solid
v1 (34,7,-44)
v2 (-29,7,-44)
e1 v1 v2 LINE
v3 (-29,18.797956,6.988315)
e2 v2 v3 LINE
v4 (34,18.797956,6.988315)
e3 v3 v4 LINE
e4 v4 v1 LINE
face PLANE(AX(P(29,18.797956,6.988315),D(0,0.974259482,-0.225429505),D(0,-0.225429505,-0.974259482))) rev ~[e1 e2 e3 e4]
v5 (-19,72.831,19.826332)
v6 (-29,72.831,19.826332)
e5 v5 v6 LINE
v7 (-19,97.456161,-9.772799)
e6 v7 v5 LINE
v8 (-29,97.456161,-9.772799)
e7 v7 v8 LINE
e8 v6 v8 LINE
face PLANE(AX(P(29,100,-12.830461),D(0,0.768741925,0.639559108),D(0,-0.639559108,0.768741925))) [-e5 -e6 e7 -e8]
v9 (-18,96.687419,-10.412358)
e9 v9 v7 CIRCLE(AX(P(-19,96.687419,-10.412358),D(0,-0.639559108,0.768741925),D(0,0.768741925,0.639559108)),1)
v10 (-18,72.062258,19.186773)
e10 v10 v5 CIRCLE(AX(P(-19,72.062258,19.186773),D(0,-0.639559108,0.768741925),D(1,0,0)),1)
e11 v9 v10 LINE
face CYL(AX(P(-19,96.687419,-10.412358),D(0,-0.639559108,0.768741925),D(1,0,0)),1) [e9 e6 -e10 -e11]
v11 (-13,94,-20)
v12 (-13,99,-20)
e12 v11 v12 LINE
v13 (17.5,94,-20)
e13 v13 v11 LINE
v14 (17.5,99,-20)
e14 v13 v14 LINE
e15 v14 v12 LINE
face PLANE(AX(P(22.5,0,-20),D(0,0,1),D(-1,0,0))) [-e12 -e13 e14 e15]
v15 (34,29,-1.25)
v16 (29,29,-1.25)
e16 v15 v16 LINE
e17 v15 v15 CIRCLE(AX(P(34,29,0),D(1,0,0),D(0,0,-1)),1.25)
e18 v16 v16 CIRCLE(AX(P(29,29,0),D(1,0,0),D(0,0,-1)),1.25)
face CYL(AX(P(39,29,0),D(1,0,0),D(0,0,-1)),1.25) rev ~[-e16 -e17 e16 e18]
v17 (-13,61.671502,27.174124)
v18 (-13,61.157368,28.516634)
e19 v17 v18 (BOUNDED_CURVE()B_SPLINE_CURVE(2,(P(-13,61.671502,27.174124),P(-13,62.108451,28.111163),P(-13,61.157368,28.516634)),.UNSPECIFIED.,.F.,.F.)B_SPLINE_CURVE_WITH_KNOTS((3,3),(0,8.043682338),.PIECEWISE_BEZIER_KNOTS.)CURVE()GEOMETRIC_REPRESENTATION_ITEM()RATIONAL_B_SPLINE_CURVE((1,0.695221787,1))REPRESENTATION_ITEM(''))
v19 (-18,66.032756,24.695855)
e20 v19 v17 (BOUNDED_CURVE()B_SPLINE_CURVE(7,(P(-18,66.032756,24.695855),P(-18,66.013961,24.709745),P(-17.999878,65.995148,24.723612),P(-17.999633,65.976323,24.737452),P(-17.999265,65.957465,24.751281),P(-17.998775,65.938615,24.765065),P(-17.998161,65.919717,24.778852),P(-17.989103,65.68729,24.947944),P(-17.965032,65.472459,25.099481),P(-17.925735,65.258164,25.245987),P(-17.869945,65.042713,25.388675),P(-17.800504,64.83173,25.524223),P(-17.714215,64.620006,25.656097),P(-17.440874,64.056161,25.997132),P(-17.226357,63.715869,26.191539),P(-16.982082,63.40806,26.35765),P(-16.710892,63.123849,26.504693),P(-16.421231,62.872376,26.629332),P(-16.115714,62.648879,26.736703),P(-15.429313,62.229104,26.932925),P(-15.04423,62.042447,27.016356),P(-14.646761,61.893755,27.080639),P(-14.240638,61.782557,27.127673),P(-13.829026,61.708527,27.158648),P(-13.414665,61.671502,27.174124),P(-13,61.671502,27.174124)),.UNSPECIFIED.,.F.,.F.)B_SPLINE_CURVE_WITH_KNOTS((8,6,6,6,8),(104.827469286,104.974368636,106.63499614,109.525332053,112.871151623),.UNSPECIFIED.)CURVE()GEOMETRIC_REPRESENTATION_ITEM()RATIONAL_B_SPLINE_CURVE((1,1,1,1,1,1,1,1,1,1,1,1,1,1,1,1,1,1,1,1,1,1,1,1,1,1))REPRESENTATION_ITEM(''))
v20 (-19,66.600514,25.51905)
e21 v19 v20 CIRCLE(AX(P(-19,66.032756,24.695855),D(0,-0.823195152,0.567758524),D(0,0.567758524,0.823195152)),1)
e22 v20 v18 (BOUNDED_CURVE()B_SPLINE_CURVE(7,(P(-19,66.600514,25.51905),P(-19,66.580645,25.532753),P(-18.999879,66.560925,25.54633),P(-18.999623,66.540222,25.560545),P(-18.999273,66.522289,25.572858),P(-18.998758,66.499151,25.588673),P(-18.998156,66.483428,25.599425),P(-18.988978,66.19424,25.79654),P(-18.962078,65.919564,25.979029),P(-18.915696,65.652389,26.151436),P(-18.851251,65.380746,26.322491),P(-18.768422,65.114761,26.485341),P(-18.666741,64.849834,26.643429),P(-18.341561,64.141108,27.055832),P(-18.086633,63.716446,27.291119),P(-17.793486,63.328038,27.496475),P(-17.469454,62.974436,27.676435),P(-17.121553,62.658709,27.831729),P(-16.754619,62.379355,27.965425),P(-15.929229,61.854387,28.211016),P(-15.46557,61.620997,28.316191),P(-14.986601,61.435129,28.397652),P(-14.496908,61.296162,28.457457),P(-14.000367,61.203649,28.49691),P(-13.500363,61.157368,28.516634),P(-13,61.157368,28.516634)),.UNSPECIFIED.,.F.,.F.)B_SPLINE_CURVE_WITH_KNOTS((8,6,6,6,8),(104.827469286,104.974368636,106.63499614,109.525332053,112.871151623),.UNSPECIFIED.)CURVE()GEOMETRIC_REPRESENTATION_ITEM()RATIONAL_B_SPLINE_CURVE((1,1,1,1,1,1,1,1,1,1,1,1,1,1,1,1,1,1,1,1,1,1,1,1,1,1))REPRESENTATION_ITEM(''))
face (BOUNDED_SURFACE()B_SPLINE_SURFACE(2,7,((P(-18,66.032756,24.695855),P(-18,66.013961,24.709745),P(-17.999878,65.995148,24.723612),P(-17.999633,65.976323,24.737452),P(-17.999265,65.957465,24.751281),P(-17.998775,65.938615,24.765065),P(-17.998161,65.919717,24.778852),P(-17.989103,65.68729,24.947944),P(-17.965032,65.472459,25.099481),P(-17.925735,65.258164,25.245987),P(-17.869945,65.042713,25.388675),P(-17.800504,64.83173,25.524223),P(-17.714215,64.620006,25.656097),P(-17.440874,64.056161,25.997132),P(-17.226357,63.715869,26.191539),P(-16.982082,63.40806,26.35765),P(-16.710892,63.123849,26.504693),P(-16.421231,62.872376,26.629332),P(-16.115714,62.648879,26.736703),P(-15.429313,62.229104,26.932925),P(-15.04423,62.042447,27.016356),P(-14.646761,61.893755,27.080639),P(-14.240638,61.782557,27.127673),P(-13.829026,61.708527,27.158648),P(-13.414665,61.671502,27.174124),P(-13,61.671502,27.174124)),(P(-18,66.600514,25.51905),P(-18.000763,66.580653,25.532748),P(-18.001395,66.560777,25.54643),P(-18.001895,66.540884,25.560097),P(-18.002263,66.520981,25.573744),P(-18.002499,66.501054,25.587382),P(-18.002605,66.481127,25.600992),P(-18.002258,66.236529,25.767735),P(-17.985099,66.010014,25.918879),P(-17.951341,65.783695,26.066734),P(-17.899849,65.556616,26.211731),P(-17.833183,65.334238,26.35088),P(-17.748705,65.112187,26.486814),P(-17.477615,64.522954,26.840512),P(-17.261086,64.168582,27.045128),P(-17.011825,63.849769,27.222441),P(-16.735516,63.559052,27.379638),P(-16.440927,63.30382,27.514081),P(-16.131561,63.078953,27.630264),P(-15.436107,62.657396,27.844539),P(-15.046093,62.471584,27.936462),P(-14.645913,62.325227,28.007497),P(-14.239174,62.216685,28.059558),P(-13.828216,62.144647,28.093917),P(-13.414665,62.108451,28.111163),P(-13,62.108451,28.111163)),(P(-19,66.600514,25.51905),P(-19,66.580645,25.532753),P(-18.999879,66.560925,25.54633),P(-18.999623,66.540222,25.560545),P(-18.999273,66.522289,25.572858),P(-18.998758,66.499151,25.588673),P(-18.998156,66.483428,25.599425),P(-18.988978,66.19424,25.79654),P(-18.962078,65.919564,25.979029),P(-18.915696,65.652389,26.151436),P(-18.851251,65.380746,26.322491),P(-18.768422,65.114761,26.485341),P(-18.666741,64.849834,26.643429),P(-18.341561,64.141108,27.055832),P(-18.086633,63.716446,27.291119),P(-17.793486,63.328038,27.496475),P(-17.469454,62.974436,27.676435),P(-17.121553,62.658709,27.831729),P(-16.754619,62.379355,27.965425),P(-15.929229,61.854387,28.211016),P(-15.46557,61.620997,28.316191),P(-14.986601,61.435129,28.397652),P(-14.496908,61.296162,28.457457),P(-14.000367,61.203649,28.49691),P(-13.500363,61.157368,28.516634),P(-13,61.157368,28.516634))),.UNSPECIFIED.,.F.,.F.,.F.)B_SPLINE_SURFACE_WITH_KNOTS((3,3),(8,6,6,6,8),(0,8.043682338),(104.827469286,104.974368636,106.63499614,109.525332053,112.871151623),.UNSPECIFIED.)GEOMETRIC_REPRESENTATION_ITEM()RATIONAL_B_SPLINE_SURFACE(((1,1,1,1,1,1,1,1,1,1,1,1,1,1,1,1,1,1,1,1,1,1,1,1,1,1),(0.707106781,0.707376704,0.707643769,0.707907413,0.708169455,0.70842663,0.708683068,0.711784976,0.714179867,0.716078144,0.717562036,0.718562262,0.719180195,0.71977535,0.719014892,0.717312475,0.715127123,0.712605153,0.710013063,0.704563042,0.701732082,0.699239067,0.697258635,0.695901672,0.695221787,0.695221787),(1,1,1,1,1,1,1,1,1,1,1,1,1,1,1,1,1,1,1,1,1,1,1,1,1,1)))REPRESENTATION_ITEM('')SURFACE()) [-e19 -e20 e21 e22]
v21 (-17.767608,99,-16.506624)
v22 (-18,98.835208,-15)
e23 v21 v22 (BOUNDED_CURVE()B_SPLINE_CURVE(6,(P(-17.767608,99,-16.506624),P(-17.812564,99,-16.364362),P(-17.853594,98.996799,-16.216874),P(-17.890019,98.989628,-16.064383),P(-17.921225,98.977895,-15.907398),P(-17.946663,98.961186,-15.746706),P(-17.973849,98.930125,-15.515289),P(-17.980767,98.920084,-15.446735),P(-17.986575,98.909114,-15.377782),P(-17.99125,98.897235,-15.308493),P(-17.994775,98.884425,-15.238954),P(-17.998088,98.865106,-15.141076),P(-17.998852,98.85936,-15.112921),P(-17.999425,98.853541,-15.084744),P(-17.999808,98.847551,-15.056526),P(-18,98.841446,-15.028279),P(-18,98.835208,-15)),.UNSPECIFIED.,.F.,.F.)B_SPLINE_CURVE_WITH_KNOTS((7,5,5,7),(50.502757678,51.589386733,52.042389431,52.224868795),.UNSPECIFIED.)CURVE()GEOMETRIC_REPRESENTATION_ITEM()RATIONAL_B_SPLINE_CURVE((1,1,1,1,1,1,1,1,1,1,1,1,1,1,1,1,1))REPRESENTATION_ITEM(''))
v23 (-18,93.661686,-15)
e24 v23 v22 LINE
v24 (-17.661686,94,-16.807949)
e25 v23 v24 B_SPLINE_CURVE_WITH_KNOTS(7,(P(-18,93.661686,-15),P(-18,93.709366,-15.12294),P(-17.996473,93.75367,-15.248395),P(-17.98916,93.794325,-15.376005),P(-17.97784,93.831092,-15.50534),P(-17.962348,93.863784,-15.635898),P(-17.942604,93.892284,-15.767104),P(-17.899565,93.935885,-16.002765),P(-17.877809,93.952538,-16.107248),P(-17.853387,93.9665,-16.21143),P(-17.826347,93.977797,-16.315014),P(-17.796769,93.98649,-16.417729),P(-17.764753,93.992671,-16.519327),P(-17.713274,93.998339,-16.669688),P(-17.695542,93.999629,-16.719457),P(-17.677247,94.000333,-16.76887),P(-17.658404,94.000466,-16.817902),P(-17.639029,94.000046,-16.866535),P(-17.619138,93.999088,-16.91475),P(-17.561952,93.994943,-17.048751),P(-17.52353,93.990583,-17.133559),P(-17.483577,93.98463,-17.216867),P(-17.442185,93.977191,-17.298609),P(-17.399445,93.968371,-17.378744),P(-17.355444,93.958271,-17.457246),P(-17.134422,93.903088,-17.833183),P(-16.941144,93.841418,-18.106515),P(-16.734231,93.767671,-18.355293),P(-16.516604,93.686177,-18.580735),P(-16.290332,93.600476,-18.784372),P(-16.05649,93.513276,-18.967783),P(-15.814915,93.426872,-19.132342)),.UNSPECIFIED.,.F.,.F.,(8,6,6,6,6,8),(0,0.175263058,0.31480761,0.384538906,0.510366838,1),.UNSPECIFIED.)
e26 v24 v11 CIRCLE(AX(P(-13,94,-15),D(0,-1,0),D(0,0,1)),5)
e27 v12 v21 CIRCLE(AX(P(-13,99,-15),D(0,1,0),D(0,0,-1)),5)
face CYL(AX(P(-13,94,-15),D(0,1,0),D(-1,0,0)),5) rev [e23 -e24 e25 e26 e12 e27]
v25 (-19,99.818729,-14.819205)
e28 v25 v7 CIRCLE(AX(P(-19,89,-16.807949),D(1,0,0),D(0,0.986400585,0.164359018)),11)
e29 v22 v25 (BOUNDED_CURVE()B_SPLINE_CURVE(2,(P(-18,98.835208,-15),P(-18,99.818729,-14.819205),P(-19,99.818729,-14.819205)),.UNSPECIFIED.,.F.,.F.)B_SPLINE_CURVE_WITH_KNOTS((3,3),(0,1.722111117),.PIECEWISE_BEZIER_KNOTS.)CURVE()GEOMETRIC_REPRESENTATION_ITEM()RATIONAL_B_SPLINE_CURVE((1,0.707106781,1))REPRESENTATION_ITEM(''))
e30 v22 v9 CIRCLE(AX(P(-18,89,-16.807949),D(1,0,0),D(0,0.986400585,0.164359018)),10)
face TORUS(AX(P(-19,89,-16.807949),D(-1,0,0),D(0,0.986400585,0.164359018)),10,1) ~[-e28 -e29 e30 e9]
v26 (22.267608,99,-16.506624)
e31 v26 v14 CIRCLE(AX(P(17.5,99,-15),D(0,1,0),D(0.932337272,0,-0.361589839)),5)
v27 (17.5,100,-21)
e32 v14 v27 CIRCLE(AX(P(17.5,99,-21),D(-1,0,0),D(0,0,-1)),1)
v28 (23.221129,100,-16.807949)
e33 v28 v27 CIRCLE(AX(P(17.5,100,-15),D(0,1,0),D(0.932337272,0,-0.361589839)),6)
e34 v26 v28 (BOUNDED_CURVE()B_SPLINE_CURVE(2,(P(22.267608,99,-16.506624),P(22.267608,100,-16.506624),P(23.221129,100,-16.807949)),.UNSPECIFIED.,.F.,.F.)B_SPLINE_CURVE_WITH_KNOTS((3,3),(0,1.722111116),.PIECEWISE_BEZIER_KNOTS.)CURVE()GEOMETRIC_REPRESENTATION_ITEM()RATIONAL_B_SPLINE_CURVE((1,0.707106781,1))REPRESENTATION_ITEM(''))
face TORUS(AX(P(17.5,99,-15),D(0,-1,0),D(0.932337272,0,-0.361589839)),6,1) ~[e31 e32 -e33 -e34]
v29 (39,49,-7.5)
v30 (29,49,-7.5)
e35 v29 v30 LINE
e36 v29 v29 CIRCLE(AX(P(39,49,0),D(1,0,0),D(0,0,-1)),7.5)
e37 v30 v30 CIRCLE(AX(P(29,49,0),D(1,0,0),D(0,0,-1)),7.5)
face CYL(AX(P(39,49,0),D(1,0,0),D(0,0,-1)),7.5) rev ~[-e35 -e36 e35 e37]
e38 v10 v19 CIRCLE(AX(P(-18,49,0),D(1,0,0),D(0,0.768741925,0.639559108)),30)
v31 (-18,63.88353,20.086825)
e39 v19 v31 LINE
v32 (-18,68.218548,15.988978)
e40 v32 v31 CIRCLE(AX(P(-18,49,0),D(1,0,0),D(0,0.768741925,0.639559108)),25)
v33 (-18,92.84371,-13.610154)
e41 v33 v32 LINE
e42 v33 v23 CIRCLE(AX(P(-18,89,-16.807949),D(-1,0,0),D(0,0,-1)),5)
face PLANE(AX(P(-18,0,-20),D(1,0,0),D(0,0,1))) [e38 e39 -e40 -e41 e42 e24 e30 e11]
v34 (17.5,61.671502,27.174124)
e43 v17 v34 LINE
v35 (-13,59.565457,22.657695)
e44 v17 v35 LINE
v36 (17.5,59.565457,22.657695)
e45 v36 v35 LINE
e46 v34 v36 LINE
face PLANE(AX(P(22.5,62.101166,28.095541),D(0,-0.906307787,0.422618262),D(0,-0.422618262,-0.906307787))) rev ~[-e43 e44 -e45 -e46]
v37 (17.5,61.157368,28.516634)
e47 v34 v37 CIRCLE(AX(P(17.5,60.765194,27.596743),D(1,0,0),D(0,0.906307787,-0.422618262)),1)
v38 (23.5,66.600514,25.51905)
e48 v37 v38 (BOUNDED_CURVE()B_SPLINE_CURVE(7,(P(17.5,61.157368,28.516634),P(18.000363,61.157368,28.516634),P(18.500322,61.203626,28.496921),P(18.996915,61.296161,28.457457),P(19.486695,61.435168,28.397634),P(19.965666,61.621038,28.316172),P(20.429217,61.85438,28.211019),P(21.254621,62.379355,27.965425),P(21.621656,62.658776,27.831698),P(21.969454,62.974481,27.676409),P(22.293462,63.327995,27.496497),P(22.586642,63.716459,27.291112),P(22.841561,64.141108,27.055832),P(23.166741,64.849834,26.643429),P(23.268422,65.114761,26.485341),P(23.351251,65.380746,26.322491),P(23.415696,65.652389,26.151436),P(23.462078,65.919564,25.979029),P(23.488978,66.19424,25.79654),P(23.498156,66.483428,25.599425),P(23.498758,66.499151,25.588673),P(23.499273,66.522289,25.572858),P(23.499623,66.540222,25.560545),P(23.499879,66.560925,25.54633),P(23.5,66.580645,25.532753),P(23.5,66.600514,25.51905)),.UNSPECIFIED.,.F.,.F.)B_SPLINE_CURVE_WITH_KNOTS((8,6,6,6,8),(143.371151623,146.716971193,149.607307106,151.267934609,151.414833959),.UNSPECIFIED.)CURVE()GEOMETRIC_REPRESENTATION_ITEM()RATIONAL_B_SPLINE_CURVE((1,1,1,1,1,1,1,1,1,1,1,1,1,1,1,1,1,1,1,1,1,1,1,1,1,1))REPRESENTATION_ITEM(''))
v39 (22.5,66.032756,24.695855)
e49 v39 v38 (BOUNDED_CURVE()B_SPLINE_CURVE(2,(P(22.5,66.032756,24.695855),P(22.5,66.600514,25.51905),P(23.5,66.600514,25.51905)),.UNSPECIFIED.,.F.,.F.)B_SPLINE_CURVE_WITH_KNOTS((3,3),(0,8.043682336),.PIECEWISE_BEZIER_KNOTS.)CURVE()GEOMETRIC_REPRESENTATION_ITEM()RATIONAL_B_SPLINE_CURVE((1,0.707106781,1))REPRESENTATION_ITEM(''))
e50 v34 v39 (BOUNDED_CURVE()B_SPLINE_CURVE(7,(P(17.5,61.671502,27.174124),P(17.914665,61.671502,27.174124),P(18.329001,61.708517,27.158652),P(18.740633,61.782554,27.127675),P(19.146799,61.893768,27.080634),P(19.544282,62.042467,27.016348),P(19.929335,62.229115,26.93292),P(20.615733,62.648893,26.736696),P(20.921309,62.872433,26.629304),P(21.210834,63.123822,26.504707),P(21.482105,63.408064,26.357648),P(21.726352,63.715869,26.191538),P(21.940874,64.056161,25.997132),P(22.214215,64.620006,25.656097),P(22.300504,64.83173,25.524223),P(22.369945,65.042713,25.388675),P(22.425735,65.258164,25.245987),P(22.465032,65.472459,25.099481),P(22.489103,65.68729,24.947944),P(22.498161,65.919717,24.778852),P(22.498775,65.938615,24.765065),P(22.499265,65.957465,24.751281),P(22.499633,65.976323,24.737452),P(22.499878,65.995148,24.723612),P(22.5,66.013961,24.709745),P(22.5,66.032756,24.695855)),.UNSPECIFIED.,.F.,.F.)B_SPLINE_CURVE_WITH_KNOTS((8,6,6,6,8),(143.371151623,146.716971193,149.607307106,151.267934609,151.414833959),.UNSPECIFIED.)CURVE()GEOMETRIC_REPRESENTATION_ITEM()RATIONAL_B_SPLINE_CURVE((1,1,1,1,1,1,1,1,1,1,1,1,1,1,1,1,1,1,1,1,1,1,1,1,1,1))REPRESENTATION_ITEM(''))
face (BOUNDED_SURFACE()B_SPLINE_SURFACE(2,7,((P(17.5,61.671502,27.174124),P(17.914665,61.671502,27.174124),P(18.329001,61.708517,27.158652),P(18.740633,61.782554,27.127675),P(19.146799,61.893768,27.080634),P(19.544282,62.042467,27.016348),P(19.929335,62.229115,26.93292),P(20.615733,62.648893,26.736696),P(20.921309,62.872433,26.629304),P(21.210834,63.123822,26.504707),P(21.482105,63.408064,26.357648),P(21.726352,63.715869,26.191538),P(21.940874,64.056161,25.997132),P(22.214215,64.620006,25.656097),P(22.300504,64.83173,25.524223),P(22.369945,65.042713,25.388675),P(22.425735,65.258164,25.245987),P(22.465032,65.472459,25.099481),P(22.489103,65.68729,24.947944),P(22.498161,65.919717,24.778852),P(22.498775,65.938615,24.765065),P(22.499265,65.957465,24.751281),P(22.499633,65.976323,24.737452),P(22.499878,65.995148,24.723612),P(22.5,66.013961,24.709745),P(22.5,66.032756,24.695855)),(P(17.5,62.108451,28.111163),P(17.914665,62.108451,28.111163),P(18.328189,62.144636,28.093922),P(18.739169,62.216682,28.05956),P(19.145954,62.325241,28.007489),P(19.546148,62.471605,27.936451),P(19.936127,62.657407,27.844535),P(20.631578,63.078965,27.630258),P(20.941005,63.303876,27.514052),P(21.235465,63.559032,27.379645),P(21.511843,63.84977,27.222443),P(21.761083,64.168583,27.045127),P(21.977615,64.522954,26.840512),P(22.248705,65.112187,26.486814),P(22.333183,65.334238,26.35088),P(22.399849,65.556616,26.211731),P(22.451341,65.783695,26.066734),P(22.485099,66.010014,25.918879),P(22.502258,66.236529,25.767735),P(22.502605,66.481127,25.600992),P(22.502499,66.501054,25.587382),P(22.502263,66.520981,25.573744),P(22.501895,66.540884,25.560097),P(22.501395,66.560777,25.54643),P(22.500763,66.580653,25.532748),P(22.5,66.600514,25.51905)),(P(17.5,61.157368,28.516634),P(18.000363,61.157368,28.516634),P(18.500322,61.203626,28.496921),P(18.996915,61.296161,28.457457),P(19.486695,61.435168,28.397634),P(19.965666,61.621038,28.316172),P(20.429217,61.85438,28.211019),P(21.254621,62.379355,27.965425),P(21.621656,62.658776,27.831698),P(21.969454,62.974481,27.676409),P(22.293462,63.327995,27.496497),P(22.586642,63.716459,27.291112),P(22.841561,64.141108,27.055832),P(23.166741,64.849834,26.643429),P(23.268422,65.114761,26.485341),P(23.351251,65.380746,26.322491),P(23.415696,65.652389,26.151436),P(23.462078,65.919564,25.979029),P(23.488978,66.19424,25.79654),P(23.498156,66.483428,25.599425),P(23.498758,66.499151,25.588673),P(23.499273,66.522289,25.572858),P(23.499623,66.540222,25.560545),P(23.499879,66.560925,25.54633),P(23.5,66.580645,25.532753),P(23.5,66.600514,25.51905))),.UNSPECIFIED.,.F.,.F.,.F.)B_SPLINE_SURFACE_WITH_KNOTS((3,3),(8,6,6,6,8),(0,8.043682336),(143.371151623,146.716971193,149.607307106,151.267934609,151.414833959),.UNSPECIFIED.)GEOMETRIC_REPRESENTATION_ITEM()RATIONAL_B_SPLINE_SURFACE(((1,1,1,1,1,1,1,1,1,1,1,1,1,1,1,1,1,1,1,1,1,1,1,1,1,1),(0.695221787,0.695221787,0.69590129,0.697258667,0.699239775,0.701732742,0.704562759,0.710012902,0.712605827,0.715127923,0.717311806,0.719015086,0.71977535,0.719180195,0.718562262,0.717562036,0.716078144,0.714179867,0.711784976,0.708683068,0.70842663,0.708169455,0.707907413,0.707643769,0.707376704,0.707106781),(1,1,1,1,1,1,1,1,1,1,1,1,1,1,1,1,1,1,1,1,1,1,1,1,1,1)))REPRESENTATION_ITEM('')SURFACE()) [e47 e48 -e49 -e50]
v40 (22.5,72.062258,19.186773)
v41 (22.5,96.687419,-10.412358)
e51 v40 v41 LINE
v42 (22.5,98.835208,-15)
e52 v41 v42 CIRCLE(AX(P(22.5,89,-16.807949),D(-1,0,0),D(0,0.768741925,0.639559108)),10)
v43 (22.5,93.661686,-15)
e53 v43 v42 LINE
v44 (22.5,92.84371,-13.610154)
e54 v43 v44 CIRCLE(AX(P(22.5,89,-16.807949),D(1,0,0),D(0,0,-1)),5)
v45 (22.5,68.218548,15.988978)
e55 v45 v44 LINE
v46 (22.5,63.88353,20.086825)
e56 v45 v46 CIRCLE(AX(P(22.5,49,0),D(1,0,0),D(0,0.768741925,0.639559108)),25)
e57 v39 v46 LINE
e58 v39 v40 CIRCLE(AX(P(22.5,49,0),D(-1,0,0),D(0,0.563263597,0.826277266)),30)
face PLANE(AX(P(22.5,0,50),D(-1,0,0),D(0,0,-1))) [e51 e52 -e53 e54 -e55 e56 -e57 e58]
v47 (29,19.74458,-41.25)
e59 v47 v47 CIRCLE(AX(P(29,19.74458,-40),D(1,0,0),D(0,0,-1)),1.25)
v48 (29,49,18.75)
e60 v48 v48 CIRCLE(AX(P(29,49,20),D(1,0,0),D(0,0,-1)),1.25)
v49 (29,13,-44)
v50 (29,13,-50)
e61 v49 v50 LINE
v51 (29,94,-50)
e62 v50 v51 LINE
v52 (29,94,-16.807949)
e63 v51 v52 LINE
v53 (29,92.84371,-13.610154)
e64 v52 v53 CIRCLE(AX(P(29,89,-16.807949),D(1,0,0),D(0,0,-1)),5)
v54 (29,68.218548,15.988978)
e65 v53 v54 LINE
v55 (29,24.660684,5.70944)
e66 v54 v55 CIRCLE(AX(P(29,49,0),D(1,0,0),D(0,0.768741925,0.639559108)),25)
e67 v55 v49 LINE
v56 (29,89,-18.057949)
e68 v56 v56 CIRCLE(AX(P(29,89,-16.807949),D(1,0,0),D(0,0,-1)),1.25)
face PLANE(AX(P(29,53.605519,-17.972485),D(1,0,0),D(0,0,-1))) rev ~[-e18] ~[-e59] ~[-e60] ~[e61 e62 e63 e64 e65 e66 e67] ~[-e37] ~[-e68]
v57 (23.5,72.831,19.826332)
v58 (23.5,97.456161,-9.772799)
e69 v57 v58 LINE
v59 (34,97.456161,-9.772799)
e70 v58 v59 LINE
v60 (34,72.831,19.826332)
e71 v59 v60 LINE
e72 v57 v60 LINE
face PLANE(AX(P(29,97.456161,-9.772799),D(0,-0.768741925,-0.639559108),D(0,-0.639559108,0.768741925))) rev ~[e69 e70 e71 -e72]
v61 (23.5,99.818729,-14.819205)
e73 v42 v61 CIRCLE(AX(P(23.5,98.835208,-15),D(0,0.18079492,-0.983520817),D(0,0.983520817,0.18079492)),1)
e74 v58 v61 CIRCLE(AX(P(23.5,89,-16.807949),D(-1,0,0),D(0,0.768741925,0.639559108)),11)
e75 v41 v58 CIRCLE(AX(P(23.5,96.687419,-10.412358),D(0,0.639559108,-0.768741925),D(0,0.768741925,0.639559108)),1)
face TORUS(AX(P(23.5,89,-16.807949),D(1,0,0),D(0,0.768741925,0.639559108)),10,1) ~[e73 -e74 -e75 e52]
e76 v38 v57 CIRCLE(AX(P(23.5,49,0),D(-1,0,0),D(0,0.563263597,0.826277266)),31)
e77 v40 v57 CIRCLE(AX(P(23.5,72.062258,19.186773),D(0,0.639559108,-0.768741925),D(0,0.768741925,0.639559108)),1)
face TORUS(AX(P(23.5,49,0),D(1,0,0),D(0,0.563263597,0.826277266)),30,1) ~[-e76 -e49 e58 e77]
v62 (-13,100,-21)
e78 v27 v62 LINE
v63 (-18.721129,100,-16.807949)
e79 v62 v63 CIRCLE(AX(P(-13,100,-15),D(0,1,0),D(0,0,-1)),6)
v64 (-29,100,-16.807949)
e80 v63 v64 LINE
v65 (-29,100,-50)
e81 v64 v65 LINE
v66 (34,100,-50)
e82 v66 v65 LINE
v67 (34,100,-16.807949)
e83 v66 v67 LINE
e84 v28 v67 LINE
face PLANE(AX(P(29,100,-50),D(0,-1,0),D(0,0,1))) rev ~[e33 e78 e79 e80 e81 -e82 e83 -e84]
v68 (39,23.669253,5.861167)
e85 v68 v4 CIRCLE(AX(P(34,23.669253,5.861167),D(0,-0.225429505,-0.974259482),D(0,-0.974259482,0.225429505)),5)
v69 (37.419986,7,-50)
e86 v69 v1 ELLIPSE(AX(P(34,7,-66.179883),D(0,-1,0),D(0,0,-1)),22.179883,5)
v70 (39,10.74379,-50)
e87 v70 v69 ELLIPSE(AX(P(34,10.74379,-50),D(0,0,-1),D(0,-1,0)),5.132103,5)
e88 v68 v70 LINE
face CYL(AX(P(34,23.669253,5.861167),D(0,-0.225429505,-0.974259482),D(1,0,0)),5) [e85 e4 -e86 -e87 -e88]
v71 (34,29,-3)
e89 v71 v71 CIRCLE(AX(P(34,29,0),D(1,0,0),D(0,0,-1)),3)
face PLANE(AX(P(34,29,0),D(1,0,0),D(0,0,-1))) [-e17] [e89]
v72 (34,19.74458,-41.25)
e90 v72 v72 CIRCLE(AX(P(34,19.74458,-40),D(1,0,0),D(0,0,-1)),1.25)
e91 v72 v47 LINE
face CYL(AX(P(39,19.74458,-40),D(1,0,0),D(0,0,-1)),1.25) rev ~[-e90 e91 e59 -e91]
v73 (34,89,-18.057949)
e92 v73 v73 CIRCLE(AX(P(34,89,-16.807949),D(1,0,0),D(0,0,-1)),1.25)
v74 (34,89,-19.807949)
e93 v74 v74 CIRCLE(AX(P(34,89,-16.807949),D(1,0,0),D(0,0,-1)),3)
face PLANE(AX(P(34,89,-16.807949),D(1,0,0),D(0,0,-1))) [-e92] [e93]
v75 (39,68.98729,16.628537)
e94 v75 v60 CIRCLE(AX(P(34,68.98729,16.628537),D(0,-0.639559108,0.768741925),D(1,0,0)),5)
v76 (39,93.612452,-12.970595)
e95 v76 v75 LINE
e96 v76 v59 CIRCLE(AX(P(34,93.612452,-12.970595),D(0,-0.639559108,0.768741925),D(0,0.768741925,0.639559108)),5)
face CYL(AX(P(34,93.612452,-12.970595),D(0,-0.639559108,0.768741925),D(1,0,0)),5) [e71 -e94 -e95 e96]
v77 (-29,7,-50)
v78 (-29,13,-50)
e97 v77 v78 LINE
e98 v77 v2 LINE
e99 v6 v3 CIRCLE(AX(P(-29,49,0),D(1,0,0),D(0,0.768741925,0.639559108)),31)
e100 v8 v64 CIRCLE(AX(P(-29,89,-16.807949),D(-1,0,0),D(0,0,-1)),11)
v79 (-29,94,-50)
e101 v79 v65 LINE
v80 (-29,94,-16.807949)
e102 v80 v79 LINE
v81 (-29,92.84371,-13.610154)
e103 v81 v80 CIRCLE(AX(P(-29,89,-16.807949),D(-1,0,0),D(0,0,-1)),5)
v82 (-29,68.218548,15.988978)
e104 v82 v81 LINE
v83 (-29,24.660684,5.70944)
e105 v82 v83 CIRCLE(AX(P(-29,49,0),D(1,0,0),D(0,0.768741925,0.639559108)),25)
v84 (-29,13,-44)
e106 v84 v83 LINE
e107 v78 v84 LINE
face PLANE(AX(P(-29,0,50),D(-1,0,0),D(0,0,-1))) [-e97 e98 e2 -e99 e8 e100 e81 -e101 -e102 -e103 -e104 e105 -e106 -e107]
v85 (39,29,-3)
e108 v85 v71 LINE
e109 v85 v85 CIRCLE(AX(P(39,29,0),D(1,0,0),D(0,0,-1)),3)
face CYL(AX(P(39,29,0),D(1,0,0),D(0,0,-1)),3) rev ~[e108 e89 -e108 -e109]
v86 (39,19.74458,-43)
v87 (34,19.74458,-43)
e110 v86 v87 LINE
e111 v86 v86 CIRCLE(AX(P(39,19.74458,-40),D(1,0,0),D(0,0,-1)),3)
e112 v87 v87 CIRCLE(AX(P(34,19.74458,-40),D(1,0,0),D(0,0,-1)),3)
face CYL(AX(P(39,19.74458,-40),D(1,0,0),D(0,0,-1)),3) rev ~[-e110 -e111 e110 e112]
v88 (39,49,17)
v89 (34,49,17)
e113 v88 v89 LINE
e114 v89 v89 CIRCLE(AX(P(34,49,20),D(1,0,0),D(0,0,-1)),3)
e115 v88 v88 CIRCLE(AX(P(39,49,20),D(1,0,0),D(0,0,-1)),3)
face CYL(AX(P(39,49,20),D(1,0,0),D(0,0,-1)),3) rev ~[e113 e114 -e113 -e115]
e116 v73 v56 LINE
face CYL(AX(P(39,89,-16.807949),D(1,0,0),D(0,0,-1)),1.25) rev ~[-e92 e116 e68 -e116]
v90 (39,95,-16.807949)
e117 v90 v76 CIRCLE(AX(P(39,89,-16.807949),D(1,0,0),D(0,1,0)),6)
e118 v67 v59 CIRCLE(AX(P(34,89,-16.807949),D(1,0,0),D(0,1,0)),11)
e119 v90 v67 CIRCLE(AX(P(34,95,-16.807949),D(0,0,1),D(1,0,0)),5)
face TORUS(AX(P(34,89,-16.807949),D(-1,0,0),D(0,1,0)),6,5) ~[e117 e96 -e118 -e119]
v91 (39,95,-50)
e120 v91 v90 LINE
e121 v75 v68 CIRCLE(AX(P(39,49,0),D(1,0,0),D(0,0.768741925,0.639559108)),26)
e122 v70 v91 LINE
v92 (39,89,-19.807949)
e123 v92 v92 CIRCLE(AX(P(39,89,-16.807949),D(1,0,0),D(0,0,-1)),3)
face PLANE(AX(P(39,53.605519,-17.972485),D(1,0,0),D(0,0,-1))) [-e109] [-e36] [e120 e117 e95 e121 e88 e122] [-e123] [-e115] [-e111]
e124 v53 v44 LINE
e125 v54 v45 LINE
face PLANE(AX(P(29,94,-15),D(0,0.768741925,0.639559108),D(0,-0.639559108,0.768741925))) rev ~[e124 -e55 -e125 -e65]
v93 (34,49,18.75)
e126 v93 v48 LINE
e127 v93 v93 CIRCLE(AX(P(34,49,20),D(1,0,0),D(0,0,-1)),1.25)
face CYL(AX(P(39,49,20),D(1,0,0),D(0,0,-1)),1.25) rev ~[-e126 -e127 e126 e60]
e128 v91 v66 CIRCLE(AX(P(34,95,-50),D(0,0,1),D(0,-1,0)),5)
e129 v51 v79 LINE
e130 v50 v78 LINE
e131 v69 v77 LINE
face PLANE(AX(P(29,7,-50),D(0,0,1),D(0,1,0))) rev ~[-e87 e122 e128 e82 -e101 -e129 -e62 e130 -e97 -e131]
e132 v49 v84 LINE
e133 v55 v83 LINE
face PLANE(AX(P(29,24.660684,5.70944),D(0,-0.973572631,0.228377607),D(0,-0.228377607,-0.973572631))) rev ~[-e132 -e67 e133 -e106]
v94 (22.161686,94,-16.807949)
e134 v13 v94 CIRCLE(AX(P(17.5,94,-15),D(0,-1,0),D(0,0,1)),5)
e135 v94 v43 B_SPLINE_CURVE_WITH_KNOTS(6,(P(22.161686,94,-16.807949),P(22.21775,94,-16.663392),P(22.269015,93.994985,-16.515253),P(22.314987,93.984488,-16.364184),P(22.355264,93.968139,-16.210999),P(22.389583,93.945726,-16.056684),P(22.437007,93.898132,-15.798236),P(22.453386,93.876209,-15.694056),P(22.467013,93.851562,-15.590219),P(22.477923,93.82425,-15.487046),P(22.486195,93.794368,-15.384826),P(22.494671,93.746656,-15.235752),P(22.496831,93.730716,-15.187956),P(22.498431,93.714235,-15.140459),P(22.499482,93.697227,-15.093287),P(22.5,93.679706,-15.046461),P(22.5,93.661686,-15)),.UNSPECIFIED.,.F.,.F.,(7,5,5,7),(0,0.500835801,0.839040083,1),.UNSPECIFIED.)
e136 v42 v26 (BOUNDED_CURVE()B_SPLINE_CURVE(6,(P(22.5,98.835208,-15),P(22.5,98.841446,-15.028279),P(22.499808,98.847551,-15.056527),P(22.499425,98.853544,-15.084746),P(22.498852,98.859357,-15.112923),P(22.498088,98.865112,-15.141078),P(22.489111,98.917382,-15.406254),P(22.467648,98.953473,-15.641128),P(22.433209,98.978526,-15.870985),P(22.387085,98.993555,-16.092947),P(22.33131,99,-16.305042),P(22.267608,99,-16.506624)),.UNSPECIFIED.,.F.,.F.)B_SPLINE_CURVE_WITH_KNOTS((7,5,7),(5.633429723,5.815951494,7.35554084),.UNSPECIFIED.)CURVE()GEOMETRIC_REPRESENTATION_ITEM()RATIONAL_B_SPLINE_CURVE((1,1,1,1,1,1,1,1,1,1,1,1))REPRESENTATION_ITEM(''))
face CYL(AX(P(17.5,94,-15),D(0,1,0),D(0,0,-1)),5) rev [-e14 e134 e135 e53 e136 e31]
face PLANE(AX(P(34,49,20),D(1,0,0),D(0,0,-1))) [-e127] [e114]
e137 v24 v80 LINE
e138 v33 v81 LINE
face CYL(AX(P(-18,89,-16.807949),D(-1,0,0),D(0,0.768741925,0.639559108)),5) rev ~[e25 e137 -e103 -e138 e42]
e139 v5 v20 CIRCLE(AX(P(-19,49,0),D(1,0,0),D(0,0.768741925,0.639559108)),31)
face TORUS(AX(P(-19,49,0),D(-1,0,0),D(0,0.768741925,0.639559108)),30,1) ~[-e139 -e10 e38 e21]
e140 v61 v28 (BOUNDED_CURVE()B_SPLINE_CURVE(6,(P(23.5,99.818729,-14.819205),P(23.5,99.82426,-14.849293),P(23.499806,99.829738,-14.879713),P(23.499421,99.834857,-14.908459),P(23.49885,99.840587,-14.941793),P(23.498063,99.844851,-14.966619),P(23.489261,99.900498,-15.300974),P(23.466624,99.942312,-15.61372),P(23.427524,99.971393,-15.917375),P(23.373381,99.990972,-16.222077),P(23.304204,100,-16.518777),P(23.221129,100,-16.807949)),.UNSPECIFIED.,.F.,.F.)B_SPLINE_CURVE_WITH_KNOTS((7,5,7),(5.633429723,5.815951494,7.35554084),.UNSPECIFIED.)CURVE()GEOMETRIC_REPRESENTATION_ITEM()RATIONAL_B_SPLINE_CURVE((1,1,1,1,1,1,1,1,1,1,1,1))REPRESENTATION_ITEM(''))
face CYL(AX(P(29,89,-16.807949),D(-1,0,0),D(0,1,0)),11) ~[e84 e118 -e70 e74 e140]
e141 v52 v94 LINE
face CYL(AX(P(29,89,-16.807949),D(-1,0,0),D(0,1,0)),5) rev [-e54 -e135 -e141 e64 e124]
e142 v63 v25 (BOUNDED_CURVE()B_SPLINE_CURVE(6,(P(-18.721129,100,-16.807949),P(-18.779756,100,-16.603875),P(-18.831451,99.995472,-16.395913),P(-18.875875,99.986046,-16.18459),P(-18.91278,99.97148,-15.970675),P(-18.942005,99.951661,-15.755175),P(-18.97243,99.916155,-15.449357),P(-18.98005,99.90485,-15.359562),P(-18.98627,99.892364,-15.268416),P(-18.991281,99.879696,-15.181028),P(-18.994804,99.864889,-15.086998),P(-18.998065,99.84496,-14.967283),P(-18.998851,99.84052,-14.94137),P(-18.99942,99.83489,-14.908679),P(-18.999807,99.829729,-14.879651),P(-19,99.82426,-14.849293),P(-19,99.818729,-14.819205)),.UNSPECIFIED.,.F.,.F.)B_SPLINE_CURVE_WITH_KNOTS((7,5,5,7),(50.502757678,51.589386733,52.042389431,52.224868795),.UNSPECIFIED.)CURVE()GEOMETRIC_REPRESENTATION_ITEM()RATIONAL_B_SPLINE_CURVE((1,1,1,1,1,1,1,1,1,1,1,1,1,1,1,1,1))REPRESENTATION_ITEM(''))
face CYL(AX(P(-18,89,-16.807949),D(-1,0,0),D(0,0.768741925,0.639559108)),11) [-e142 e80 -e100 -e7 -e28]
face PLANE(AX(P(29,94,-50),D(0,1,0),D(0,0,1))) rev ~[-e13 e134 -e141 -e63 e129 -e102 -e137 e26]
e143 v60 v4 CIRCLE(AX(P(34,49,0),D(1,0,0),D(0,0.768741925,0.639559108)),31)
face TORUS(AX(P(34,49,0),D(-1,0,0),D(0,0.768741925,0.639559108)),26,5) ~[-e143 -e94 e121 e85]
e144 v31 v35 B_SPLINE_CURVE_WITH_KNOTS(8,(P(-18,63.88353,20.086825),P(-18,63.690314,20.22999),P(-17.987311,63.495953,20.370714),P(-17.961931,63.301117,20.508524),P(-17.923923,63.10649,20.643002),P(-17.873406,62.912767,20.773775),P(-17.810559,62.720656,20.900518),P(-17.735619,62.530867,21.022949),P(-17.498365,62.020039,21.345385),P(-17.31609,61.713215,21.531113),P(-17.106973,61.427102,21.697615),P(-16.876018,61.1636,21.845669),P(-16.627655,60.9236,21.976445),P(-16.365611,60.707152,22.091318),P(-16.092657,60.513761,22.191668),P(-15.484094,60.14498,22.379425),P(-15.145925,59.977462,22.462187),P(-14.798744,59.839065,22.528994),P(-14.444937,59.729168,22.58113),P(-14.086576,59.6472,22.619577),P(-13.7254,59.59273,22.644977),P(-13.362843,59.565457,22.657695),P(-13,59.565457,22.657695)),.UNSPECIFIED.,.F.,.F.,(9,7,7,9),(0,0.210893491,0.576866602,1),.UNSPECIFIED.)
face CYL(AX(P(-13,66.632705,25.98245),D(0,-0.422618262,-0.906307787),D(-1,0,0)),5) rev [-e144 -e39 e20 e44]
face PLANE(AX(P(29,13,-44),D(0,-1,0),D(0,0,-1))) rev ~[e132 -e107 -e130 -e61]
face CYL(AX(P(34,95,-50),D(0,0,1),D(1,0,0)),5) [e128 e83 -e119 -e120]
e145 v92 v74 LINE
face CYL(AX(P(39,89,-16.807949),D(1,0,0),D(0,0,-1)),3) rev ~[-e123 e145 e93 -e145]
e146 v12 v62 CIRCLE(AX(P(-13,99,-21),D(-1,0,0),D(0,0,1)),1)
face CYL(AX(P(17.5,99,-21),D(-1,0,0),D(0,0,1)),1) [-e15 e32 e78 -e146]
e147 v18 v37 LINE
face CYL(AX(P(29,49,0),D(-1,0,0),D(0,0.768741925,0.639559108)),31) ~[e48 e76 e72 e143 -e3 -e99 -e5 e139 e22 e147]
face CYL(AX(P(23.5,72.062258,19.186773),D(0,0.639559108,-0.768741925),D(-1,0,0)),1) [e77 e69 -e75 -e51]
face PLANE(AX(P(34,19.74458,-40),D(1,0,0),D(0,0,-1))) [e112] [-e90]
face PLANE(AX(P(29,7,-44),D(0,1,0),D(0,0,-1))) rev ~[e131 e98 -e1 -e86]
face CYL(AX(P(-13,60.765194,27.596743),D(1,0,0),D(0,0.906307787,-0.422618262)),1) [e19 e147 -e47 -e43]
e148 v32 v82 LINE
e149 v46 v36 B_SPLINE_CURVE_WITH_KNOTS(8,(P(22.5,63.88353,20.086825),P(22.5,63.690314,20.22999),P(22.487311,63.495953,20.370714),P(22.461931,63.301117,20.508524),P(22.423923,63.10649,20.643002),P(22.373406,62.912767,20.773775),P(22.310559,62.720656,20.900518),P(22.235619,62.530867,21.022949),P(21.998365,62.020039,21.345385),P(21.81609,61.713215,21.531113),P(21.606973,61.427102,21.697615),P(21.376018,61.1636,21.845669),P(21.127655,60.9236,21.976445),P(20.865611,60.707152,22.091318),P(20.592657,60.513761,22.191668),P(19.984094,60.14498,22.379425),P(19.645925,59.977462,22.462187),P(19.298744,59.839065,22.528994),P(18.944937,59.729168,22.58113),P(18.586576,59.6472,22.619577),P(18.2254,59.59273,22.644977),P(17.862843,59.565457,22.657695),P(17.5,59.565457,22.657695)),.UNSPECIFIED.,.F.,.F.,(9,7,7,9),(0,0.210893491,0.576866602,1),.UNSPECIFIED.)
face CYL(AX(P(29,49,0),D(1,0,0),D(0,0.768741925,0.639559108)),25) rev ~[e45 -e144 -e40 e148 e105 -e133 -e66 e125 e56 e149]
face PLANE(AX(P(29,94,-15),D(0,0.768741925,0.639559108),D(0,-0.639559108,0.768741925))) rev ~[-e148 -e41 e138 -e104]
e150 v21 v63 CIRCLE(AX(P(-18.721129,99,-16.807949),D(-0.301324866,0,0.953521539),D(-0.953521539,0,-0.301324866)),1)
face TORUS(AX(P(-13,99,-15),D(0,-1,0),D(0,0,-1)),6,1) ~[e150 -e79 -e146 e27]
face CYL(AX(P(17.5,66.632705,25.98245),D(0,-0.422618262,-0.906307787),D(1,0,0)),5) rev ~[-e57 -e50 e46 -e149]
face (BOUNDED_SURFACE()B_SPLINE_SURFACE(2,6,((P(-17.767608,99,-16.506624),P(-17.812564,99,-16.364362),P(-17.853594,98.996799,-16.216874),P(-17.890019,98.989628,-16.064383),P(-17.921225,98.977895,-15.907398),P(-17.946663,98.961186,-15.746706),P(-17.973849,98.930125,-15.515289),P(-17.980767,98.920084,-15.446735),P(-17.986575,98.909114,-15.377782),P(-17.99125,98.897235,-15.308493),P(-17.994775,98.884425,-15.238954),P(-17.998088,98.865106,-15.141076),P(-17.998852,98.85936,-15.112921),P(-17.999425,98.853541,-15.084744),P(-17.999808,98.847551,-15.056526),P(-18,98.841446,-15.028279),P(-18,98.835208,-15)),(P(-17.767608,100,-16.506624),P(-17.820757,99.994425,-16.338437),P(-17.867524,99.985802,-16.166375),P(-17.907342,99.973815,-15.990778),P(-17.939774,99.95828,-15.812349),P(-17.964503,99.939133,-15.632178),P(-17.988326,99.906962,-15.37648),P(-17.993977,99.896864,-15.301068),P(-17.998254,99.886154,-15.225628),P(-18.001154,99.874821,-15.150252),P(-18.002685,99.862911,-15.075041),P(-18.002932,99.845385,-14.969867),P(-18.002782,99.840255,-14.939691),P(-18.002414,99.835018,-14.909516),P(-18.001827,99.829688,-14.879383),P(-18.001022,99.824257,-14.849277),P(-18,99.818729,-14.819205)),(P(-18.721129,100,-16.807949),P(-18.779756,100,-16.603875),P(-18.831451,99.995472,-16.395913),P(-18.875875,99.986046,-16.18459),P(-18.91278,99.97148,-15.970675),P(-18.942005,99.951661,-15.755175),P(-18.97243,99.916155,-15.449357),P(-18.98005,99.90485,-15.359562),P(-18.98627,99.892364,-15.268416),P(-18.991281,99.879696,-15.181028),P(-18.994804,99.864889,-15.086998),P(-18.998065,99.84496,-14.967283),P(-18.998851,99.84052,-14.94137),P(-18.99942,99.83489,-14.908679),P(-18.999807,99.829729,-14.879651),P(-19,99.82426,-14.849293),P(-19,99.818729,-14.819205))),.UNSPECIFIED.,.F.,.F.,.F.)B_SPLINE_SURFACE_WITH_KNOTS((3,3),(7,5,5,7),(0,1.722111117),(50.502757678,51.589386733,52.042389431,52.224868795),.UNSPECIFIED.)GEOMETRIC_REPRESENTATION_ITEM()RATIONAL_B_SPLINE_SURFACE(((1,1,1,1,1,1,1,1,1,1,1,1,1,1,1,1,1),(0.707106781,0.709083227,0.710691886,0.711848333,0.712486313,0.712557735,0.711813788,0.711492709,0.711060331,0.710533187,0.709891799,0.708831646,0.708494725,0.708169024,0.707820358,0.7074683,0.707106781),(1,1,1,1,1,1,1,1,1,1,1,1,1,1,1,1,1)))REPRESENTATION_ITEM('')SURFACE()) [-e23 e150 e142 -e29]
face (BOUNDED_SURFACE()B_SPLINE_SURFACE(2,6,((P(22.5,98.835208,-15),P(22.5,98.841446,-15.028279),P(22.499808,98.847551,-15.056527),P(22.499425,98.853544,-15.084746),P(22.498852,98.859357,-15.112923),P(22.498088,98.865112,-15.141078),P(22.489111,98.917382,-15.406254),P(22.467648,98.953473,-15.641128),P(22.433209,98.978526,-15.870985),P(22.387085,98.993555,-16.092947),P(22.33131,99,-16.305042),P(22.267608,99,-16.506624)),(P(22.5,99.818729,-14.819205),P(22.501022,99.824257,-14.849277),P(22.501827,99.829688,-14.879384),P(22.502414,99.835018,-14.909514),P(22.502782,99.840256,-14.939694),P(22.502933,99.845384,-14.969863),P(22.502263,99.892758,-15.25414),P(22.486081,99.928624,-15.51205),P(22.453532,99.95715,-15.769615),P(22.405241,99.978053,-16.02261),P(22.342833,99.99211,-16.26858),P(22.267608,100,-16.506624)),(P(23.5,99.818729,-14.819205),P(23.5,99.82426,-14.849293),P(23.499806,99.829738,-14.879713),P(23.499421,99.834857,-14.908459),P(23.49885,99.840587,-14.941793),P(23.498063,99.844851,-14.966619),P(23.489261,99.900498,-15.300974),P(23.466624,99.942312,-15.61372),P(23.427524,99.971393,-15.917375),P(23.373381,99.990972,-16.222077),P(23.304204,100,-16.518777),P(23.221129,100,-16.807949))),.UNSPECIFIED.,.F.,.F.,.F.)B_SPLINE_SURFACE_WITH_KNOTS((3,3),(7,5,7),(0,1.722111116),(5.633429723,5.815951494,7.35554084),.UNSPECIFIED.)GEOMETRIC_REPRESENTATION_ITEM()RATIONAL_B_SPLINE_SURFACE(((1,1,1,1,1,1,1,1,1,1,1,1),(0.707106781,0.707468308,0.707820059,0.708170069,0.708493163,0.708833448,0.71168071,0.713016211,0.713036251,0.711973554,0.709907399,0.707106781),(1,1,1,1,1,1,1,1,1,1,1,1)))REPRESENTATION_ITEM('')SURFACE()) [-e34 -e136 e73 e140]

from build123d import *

# Parameters (mm, degrees)
BOSS_EXTRUDE1_DEPTH = 100
CUT_EXTRUDE1_DEPTH  = 126.95237195067031
FILLET1_R           = 5
BOSS_EXTRUDE2_START = 40.5
BOSS_EXTRUDE2_DEPTH = 40.5
FILLET2_R           = 11
FILLET3_R           = 5
BOSS_EXTRUDE4_DEPTH = 10
FILLET5_R           = 1
FILLET6_R           = 5
SKETCH8_R           = 7.5
CUT_EXTRUDE2_DEPTH  = 131.85870255202755
SKETCH9_R           = 1.2499999999993074
SKETCH9_R_2         = 1.2499999999993041
SKETCH9_R_3         = 1.2499999999993108
CUT_EXTRUDE3_DEPTH  = 131.85870255202755
SKETCH10_R          = 2.999999999999271
SKETCH10_R_2        = 2.9999999999993827
SKETCH10_R_3        = 2.9999999999993676
SKETCH10_R_4        = 2.9999999999984848
CUT_EXTRUDE4_DEPTH  = 5


with BuildPart() as part:
    # Sketch1 → Boss-Extrude1 (new body)
    with BuildSketch(Plane(origin=(0, 0, 0), x_dir=(1, 0, 0), z_dir=(0, 1, 0))):
        Polygon((-29.000000000000004, -50), (-29.000000000000004, 50), (28.999999999999996, 50.00000000000001), (28.999999999999996, -50), (22.5, -50), (22.49999999999999, 20.000000000000004), (-18.000000000000007, 20.000000000000004), (-18.000000000000007, -50), align=None)
    extrude(amount=BOSS_EXTRUDE1_DEPTH)

    # Sketch5 → Cut-Extrude1 (cut, through all)
    with BuildSketch(Plane(origin=(28.999999999999996, 0, 0), x_dir=(0, 0, -1), z_dir=(1, 0, 0))):
        with BuildLine():
            Line((50.00000000000001, 94), (15.000000000000007, 94))
            Line((15.000000000000007, 94), (-15.988977704079698, 68.21854812358211))
            ThreePointArc((-15.988977704079698, 68.21854812358211), (-24.331609312743236, 43.25780632057522), (-5.709440185764556, 24.660684217398867))
            Line((-5.709440185764556, 24.660684217398867), (44.000000000000014, 12.999999999999998))
            Line((44.000000000000014, 12.999999999999998), (50.00000000000001, 12.999999999999998))
            Line((50.00000000000001, 12.999999999999998), (50.00000000000001, 94))
        make_face()
        with BuildLine():
            Line((12.83046096501491, 100), (-19.82633235305885, 72.8309996732418))
            ThreePointArc((-19.82633235305885, 72.8309996732418), (-30.160384185664846, 41.83402304126666), (-6.988314668956372, 18.797956061093338))
            Line((-6.988314668956372, 18.797956061093338), (44, 6.999999999999997))
            Line((44, 6.999999999999997), (49.99999999999999, 6.999999999999992))
            Line((49.99999999999999, 6.999999999999992), (49.99999999999999, 0))
            Line((49.99999999999999, 0), (-50.00000000000001, 0))
            Line((-50.00000000000001, 0), (-50.00000000000001, 100))
            Line((-50.00000000000001, 100), (12.83046096501491, 100))
        make_face()
    extrude(amount=-CUT_EXTRUDE1_DEPTH, mode=Mode.SUBTRACT)

    # Fillet1
    fillet1_edges = [part.edges().sort_by_distance(p)[0] for p in [
        (-23.500000000000004, 94, -15.000000000000007),
        (25.749999999999993, 94, -15.000000000000007),
    ]]
    fillet(fillet1_edges, radius=FILLET1_R)

    # Sketch6 → Boss-Extrude2 (add)
    with BuildSketch(Plane(origin=(-18.000000000000007, 0, 0), x_dir=(1e-16, 0, -1), z_dir=(1, 0, 1e-16)).offset(BOSS_EXTRUDE2_START)):
        with BuildLine():
            Line((19.999999999999996, 12.553251706878484), (-6.988314668956373, 18.79795606109335))
            ThreePointArc((-6.988314668956373, 18.79795606109335), (-27.865951255157718, 35.417336025463435), (-28.095541398136127, 62.1011661139617))
            Line((-28.095541398136127, 62.1011661139617), (-22.657694675916233, 59.56545654351749))
            ThreePointArc((-22.657694675916233, 59.56545654351749), (-22.489094420401646, 38.08026409887772), (-5.709440185764564, 24.66068421739888))
            Line((-5.709440185764564, 24.66068421739888), (19.999999999999993, 18.62984455611945))
            Line((19.999999999999993, 18.62984455611945), (19.999999999999996, 12.553251706878484))
        make_face()
    extrude(amount=-BOSS_EXTRUDE2_DEPTH)

    # Fillet2
    fillet2_edges = [part.edges().sort_by_distance(p)[0] for p in [
        (25.749999999999993, 100, -12.83046096501491),
        (-23.500000000000004, 100, -12.83046096501491),
    ]]
    fillet(fillet2_edges, radius=FILLET2_R)

    # Fillet3
    fillet3_edges = [part.edges().sort_by_distance(p)[0] for p in [
        (22.49999999999999, 60.8333113287396, 25.376618037026184),
        (-18.00000000000001, 60.8333113287396, 25.37661803702618),
        (22.49999999999999, 97, -20.000000000000004),
        (-18.000000000000007, 97, -20.000000000000004),
    ]]
    fillet(fillet3_edges, radius=FILLET3_R)

    # Sketch7 → Boss-Extrude4 (add)
    with BuildSketch(Plane(origin=(28.999999999999996, 0, 0), x_dir=(0, 0, -1), z_dir=(1, 0, 0))):
        with BuildLine():
            Line((50.00000000000001, 100), (16.807949195820918, 100))
            ThreePointArc((16.807949195820918, 100), (13.067479500591284, 99.34450996708247), (9.772799006025844, 97.45616117437613))
            Line((9.772799006025844, 97.45616117437613), (-19.82633235305885, 72.8309996732418))
            ThreePointArc((-19.82633235305885, 72.8309996732418), (-30.160384185664846, 41.83402304126666), (-6.9883146689563755, 18.797956061093355))
            Line((-6.9883146689563755, 18.797956061093355), (44, 6.999999999999997))
            Line((44, 6.999999999999997), (49.99999999999999, 6.999999999999992))
            Line((49.99999999999999, 6.999999999999992), (50.00000000000001, 100))
        make_face()
    extrude(amount=BOSS_EXTRUDE4_DEPTH)

    # Fillet5
    fillet5_edges = [part.edges().sort_by_distance(p)[0] for p in [
        (22.49999999999999, 99.00083975111619, -12.227206431541916),
        (-18.000000000000007, 85.14358042380897, 5.026766673516516),
        (22.499999999999993, 69.84794587448418, 22.942605623916762),
        (2.2499999999999893, 62.10116611396171, 28.095541398136127),
        (-18.000000000000007, 99.00083975111619, -12.227206431541916),
        (2.2499999999999893, 100, -20.000000000000004),
        (21.042619780265184, 63.42008867833863, 27.44195770208064),
        (-16.542619780265202, 63.42008867833864, 27.441957702080636),
        (20.324911858881205, 100, -19.12551487569155),
        (22.415270684599754, 99.96382489332538, -15.916577372895661),
        (-17.91527069193968, 99.96382489235059, -15.916577374222168),
        (-15.824911858881226, 100, -19.125514875691554),
        (-18.000000000000004, 69.84794587448418, 22.942605623916755),
        (22.49999999999999, 85.14358042380897, 5.026766673516505),
    ]]
    fillet(fillet5_edges, radius=FILLET5_R)

    # Fillet6
    fillet6_edges = [part.edges().sort_by_distance(p)[0] for p in [
        (39, 12.898978030546676, -18.50584266552181),
        (39, 41.834023041266654, 30.16038418566485),
        (39, 85.14358042380897, 5.026766673516503),
        (39, 99.34450996708247, -13.067479500591286),
        (39, 100, -33.40397459791046),
    ]]
    fillet(fillet6_edges, radius=FILLET6_R)

    # Sketch8 → Cut-Extrude2 (cut, through all)
    with BuildSketch(Plane(origin=(39, 0, 0), x_dir=(0, 0, -1), z_dir=(1, 0, 0))):
        with Locations((-6.94e-15, 49)):
            Circle(SKETCH8_R)
    extrude(amount=-CUT_EXTRUDE2_DEPTH, mode=Mode.SUBTRACT)

    # Sketch9 → Cut-Extrude3 (cut, through all)
    with BuildSketch(Plane(origin=(39, 0, 0), x_dir=(0, 0, -1), z_dir=(1, 0, 0))):
        with Locations((40.00000000000071, 19.744580488536943)):
            Circle(SKETCH9_R)
        with Locations((6.9389e-13, 29.000000000001137)):
            Circle(SKETCH9_R_2)
        with Locations((-19.999999999998934, 49.000000000000405)):
            Circle(SKETCH9_R_2)
        with Locations((16.807949195821617, 89.00000000000007)):
            Circle(SKETCH9_R_3)
    extrude(amount=-CUT_EXTRUDE3_DEPTH, mode=Mode.SUBTRACT)

    # Sketch10 → Cut-Extrude4 (cut)
    with BuildSketch(Plane(origin=(39, 0, 0), x_dir=(0, 0, -1), z_dir=(1, 0, 0))):
        with Locations((16.807949195821624, 89.00000000000007)):
            Circle(SKETCH10_R)
        with Locations((-19.999999999998906, 49.000000000000405)):
            Circle(SKETCH10_R_2)
        with Locations((-1.388e-14, 29.000000000001066)):
            Circle(SKETCH10_R_3)
        with Locations((40.000000000000725, 19.744580488536943)):
            Circle(SKETCH10_R_4)
    extrude(amount=-CUT_EXTRUDE4_DEPTH, mode=Mode.SUBTRACT)


solid = part.part
